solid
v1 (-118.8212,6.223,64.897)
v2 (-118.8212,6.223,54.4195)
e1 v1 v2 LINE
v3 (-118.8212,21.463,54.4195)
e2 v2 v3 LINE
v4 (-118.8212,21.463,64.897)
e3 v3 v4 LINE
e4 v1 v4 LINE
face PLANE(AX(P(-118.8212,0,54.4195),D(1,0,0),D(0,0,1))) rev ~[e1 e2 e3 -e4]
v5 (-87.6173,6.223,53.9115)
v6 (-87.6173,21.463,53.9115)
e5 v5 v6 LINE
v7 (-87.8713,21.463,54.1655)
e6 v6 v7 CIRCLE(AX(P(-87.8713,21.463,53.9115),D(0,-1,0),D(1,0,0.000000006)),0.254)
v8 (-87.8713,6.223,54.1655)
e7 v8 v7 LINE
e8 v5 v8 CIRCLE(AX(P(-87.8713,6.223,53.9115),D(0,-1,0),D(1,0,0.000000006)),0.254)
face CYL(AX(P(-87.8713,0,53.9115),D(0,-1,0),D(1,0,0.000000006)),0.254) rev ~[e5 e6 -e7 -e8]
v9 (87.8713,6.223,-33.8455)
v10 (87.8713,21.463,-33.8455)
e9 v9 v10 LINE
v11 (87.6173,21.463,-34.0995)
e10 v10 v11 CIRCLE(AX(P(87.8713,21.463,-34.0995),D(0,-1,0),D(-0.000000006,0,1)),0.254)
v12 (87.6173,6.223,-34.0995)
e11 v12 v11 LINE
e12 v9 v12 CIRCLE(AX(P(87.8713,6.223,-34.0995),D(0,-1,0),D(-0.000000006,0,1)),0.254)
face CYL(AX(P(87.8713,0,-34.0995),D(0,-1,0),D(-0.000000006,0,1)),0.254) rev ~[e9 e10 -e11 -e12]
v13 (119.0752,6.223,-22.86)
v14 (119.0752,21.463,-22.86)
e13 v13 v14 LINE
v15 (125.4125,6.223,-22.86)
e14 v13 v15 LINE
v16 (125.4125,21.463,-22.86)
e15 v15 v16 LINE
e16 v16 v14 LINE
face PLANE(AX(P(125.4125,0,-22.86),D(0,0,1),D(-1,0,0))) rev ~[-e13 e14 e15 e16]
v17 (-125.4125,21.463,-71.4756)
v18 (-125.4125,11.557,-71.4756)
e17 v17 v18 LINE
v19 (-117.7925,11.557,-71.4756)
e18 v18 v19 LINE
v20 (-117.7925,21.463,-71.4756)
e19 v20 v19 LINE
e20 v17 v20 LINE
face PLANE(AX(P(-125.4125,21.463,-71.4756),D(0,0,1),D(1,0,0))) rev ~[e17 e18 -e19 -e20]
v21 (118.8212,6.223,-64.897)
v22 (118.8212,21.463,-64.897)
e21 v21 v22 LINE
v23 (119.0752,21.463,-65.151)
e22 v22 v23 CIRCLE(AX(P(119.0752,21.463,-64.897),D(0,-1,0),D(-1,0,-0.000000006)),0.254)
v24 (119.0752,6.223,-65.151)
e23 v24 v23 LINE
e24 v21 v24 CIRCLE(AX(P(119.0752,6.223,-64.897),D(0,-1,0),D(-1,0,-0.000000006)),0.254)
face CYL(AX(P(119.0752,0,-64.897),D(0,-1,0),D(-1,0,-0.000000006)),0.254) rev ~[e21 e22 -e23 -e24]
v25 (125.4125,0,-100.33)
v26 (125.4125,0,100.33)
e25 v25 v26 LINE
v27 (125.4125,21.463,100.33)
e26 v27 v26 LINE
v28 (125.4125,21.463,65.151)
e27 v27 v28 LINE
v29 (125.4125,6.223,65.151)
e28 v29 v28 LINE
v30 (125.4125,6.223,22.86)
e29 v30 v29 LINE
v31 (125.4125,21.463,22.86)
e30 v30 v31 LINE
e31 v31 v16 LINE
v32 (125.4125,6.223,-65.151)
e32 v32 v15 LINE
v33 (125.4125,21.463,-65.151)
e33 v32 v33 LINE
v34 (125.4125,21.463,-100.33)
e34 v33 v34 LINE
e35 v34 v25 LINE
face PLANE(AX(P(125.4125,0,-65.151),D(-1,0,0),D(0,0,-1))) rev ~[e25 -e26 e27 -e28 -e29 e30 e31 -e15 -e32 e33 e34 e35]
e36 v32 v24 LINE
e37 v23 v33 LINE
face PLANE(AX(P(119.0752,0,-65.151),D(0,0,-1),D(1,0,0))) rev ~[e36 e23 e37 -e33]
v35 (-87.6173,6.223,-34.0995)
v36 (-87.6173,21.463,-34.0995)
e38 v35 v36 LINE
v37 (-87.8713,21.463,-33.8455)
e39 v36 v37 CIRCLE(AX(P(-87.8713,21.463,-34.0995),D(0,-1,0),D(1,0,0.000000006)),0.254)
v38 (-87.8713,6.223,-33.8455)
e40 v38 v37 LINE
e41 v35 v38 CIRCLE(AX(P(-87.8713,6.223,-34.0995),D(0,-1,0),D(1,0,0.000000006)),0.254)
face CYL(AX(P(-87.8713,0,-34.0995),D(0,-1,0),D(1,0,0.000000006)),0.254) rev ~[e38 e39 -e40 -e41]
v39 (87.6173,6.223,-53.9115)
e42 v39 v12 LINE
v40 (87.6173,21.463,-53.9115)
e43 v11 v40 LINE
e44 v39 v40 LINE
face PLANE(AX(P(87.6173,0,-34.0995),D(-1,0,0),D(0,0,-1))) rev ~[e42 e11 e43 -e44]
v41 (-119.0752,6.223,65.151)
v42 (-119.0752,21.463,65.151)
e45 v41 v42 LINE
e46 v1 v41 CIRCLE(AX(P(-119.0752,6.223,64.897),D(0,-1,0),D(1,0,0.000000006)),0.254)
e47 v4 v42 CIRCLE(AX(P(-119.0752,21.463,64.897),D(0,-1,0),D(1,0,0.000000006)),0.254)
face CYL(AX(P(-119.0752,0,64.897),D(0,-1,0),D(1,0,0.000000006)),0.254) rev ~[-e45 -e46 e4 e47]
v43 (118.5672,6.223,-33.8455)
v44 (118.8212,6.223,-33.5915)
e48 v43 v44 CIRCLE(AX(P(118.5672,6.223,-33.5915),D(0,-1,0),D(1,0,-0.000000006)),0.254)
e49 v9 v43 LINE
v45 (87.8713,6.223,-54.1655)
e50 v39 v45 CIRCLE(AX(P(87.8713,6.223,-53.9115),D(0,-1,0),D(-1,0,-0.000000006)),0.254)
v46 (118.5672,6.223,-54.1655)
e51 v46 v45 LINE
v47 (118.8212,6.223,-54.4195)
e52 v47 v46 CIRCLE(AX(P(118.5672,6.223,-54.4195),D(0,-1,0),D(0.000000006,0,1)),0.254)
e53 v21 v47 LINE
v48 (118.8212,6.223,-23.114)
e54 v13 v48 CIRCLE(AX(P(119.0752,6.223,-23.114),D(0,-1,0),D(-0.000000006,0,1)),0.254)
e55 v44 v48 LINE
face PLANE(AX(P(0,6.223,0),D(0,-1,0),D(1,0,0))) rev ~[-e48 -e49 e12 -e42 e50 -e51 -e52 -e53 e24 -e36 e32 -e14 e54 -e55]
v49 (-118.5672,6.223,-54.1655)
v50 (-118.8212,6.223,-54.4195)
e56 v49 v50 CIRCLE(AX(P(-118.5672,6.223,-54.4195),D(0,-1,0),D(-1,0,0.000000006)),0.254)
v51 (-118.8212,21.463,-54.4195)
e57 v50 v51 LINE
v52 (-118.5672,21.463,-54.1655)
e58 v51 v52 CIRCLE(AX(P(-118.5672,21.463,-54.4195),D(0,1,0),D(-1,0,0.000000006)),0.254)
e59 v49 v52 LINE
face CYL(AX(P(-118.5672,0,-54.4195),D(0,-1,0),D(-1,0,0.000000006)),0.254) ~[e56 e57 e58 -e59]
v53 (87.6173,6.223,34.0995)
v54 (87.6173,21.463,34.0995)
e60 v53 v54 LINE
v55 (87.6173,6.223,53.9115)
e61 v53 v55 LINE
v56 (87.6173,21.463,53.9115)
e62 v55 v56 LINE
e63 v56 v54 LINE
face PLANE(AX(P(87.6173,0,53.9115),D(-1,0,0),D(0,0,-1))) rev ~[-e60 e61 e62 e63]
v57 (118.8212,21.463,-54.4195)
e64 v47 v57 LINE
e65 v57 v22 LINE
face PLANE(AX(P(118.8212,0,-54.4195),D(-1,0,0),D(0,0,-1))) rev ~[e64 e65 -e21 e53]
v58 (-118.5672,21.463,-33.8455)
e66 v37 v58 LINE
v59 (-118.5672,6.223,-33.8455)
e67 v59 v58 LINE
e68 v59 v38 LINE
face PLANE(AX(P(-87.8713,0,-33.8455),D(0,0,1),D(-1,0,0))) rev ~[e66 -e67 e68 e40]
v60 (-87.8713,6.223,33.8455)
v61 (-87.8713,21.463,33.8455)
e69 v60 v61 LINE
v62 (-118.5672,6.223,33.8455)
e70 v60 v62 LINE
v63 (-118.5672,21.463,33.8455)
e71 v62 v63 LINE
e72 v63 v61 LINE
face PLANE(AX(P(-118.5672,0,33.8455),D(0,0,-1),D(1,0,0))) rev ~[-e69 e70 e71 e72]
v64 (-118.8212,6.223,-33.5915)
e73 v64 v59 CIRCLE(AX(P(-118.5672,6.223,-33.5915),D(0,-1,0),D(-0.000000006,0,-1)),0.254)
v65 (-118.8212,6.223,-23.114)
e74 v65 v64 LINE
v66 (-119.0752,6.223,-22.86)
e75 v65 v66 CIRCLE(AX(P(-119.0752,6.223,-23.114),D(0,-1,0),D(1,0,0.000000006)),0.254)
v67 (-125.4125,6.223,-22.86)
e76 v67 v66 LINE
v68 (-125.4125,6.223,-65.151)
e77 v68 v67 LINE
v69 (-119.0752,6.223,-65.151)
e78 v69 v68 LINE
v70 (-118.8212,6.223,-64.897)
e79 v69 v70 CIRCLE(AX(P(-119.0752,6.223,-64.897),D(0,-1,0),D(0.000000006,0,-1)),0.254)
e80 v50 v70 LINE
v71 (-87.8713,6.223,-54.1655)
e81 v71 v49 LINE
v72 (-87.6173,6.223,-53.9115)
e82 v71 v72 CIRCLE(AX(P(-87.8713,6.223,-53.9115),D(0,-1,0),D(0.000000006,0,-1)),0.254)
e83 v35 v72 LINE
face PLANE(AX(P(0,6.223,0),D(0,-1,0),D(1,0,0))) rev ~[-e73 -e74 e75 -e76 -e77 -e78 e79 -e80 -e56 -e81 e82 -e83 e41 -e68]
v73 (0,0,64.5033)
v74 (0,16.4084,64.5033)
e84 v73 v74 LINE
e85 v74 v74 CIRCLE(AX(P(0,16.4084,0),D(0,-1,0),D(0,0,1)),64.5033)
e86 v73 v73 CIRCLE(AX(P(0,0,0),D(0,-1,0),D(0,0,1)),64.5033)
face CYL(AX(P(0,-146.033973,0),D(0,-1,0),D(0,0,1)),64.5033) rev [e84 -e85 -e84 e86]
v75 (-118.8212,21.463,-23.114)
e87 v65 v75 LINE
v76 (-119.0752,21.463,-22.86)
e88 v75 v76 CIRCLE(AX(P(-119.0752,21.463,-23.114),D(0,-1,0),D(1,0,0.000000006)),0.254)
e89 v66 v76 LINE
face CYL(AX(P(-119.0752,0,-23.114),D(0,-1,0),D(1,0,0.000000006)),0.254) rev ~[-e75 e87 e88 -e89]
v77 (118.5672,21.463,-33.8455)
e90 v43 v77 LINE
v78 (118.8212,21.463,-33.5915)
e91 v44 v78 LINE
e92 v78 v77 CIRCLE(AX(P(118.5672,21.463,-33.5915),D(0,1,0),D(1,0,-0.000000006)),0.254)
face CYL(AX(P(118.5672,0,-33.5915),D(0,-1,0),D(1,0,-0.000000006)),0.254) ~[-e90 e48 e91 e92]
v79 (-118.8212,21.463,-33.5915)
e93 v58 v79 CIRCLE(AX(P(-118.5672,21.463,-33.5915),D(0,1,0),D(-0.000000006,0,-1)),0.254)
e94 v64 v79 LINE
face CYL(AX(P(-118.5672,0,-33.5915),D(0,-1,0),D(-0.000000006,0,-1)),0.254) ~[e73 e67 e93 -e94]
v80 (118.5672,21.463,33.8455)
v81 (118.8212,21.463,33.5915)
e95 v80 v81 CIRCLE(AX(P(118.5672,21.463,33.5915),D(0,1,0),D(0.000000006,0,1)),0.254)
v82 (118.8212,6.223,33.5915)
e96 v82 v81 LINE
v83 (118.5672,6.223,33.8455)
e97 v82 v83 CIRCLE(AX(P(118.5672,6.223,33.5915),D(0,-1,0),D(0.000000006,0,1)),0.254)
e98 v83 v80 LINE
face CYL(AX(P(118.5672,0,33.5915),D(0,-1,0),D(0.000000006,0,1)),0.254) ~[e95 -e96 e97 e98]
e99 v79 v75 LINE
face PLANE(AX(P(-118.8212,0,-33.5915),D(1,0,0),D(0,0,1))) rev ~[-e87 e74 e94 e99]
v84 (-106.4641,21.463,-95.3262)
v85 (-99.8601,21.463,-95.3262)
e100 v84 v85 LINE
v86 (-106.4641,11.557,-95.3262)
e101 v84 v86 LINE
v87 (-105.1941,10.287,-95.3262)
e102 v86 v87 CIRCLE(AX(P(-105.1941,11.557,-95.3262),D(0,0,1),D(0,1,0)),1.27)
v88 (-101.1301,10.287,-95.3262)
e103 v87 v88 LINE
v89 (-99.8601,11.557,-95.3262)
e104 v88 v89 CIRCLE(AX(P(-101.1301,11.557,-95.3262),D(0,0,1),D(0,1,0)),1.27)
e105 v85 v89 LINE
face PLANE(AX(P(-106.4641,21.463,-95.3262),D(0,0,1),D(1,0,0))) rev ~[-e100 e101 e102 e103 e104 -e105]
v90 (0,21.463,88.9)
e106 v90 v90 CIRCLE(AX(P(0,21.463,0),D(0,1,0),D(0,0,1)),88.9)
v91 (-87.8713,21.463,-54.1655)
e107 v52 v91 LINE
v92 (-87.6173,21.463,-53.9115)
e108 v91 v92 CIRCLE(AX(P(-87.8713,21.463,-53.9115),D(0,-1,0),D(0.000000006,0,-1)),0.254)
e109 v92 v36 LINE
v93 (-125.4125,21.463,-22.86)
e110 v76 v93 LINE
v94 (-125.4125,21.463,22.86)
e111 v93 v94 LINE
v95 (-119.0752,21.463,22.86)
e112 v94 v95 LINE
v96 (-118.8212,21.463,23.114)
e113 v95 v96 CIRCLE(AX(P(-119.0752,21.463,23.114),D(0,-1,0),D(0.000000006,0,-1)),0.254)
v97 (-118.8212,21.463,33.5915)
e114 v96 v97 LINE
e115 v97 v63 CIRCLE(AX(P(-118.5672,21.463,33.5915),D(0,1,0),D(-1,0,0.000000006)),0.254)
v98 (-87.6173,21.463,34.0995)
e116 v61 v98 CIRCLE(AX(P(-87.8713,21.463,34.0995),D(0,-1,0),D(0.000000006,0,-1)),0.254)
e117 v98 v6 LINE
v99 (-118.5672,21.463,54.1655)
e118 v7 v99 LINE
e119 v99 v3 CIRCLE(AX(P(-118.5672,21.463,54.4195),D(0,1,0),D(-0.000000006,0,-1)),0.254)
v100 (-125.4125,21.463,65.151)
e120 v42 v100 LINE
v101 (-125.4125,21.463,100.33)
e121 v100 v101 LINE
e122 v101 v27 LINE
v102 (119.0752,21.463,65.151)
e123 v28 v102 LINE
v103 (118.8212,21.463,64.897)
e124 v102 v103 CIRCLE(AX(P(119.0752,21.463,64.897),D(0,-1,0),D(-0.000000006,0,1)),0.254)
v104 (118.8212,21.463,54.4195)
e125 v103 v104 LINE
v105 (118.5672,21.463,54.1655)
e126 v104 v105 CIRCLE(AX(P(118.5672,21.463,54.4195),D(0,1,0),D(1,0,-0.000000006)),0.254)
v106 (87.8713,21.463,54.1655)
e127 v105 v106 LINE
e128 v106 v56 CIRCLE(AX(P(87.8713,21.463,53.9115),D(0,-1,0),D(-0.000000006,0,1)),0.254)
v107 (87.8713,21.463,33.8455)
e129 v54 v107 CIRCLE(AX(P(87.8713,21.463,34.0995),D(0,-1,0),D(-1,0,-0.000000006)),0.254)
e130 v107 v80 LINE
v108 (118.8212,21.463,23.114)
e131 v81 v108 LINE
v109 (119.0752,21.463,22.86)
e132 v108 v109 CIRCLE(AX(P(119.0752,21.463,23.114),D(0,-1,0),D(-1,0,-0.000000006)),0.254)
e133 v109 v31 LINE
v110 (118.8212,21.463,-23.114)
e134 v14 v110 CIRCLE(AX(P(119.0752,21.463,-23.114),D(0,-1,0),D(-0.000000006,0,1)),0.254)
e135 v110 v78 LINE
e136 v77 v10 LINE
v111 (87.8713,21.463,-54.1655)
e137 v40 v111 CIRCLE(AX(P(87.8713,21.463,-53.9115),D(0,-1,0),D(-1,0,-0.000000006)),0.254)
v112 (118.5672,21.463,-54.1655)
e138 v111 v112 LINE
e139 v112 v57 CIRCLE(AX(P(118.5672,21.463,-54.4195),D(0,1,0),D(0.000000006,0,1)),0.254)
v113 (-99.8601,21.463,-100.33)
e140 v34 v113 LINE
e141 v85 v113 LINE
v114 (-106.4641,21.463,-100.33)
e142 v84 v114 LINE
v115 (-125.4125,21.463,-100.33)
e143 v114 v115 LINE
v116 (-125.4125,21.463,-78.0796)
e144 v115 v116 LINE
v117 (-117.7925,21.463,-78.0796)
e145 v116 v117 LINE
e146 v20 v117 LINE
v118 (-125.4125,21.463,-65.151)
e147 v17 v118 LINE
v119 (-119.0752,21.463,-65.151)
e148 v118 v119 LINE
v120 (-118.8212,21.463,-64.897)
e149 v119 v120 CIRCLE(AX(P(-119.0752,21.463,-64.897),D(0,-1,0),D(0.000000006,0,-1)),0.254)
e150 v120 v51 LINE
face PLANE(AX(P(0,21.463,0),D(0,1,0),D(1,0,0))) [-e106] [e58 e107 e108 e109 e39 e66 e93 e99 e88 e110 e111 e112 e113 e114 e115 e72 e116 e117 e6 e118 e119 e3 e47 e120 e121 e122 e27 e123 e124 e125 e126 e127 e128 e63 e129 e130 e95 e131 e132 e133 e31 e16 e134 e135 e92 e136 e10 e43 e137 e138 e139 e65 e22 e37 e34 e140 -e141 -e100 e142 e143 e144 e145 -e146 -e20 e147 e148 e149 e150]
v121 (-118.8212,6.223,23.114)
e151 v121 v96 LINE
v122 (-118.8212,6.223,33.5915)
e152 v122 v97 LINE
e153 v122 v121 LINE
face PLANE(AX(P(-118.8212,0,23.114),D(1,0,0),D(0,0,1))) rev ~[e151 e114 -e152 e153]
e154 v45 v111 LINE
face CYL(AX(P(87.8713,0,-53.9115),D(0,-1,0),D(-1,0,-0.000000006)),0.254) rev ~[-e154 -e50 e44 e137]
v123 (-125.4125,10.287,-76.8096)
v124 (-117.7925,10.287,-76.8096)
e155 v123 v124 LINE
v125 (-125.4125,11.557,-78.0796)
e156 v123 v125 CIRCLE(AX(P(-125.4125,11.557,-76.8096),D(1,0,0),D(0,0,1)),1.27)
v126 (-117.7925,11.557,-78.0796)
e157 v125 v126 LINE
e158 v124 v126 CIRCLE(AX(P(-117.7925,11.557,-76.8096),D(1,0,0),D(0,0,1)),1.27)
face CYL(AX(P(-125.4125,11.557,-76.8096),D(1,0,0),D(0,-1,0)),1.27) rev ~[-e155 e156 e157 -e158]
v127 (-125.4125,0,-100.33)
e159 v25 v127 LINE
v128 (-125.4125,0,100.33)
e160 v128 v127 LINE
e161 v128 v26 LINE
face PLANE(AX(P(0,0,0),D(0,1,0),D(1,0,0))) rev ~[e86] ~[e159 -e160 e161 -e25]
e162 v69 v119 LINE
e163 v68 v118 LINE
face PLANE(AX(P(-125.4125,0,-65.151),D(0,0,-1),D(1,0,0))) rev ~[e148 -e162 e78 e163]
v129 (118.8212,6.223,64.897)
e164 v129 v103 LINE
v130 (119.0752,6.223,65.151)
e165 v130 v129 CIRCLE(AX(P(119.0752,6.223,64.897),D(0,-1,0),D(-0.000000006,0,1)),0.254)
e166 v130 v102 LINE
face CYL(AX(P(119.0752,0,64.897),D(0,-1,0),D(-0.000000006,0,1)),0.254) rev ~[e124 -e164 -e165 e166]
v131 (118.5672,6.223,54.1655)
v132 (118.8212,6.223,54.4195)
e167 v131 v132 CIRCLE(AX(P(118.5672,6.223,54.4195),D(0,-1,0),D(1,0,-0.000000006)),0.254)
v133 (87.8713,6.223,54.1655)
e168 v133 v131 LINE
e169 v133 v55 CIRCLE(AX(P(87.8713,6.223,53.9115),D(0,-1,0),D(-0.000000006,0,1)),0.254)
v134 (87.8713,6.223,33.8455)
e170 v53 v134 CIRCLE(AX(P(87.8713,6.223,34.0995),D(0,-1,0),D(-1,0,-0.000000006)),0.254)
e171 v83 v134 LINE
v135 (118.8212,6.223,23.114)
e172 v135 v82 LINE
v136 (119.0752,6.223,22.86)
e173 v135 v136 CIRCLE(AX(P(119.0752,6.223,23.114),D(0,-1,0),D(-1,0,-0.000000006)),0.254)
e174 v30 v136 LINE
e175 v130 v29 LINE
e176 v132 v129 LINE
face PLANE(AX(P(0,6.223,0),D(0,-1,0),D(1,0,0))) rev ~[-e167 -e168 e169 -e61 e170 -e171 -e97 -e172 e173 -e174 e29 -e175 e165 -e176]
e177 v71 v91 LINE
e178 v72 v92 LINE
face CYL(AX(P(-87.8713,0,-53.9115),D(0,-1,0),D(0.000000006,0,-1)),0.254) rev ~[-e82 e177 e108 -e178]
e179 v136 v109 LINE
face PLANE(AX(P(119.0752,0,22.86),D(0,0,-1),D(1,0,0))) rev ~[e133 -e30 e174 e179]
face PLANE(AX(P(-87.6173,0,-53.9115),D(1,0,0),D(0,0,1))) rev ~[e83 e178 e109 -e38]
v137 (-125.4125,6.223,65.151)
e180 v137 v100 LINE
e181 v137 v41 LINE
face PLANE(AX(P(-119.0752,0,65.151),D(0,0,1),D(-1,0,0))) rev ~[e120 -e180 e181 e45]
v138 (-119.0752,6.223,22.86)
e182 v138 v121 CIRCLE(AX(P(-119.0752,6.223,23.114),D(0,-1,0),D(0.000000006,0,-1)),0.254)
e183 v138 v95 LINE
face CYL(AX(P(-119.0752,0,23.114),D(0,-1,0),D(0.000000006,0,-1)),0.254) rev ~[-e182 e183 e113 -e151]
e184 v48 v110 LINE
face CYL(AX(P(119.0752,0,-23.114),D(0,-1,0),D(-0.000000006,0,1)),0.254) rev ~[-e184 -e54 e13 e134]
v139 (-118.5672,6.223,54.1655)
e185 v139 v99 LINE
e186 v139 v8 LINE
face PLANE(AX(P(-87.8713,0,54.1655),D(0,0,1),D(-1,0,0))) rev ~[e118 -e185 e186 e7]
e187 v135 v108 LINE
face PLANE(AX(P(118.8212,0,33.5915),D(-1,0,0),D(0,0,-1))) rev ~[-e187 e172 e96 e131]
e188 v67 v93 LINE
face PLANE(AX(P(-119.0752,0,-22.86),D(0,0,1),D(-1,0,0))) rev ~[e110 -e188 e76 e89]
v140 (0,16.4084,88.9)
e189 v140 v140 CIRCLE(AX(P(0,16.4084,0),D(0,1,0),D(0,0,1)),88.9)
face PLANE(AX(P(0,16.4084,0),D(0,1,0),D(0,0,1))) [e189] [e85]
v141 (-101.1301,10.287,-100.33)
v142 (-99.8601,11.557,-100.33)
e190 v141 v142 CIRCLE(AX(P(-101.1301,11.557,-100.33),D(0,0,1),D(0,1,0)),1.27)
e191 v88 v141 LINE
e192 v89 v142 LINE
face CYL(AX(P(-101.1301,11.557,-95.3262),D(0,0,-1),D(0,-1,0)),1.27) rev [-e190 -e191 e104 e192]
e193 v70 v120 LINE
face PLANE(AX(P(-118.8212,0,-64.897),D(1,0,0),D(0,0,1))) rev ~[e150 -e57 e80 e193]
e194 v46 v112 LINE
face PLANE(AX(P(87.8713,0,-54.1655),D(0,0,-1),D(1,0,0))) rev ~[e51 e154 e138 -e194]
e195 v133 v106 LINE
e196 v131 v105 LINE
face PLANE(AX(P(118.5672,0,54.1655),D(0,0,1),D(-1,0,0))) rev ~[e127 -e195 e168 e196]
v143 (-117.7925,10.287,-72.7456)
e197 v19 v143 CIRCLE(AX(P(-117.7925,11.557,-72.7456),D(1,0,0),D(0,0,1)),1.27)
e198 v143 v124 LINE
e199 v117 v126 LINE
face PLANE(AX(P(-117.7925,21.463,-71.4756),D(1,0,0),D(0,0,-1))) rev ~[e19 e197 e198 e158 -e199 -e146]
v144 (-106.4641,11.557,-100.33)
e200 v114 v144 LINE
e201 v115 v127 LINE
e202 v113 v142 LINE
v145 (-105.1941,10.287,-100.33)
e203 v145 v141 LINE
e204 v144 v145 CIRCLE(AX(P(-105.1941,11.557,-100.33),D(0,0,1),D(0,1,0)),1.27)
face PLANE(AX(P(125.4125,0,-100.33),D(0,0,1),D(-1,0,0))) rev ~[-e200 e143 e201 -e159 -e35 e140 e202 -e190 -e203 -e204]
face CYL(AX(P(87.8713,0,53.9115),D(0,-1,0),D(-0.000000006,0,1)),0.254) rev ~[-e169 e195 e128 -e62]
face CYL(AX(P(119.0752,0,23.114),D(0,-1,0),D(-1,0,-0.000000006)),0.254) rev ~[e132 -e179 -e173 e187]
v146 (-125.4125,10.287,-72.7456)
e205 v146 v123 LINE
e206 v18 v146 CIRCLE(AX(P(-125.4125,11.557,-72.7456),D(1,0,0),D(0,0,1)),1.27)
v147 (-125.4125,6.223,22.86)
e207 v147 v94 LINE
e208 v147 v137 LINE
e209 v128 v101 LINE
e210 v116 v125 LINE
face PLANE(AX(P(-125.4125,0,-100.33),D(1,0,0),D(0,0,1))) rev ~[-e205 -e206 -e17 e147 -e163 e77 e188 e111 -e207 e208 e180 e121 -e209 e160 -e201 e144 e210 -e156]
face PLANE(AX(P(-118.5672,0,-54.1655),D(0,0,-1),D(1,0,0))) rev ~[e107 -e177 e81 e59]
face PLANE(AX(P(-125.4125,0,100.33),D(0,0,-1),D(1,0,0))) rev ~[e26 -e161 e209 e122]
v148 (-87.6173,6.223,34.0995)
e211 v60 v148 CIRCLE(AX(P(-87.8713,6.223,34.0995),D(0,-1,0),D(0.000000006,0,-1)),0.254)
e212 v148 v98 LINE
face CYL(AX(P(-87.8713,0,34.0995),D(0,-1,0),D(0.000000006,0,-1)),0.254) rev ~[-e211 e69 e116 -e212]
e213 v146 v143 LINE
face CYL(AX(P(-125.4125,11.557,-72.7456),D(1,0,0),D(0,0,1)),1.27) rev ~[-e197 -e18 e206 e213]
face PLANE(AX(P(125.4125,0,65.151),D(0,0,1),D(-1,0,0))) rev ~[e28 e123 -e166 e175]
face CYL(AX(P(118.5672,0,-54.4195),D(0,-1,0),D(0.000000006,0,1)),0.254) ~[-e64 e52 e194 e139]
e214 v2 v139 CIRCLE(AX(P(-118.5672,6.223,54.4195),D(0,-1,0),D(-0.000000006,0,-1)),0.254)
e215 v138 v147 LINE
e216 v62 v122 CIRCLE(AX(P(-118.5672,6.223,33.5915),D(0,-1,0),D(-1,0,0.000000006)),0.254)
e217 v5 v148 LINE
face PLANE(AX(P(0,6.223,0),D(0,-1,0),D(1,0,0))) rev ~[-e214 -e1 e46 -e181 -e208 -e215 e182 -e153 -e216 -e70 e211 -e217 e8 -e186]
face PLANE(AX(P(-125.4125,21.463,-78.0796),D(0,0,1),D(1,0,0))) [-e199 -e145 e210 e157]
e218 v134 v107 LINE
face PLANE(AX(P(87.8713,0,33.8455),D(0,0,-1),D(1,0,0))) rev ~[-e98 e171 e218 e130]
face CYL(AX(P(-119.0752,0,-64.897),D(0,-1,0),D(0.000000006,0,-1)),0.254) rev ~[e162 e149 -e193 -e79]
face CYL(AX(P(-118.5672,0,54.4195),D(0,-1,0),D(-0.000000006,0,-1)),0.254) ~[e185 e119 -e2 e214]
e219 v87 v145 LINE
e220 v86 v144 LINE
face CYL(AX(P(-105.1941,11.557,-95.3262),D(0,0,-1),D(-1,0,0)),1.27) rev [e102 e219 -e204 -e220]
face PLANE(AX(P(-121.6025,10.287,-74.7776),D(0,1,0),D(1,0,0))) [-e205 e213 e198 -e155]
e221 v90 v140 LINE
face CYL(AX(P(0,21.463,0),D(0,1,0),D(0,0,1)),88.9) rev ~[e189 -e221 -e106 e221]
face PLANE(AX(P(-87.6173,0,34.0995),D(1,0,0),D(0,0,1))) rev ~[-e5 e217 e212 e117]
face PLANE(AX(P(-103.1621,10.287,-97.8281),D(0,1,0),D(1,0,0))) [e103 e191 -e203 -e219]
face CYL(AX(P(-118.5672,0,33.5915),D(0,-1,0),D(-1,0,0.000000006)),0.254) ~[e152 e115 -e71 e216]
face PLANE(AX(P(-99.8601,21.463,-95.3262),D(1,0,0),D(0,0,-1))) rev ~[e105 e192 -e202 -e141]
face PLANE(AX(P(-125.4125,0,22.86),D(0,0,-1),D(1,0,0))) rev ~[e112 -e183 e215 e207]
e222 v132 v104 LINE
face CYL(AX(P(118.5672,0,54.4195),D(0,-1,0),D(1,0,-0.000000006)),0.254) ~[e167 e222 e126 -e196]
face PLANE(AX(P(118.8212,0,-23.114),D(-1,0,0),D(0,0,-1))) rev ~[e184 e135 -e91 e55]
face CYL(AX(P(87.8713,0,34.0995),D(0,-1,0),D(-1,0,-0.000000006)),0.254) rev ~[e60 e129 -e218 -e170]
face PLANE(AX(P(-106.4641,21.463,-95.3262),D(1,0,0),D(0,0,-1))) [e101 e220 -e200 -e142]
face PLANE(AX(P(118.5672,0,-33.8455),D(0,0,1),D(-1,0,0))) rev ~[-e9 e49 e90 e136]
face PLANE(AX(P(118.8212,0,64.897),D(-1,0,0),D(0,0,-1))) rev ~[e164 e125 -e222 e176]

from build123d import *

# Parameters (mm, degrees)
BOSS_EXTRUDE1_DEPTH     = 21.463
SKETCH3_R               = 88.9
CUT_EXTRUDE1_DEPTH      = 5.0546
CUT_EXTRUDE2_DEPTH      = 162.442372526
CUT_EXTRUDE2_DEPTH_BACK = 162.442372526
SKETCH4_R               = 64.5033
SKETCH5_W               = 250.825
SKETCH5_H               = 200.66
BOSS_EXTRUDE2_DEPTH     = 6.223
CUT_EXTRUDE3_DEPTH      = 162.442372526
CUT_EXTRUDE3_DEPTH_BACK = 162.442372526
SKETCH4_2_R             = 64.5033
SKETCH6_W               = 6.604
SKETCH6_H               = 5.0038
SKETCH6_W_2             = 7.62
SKETCH6_H_2             = 6.604
CUT_EXTRUDE4_DEPTH      = 11.176
FILLET4_R               = 1.27


with BuildPart() as part:
    # Sketch2 → Boss-Extrude1 (new body)
    with BuildSketch(Plane(origin=(0, 0, 0), x_dir=(1, 0, 0), z_dir=(0, 1, 0))):
        with BuildLine():
            Line((-125.4125, 65.151), (-119.0752, 65.151))
            ThreePointArc((-119.0752, 65.151), (-118.895594878, 65.076605122), (-118.8212, 64.897))
            Line((-118.8212, 64.897), (-118.8212, 54.4195))
            ThreePointArc((-118.8212, 54.4195), (-118.746805122, 54.239894878), (-118.5672, 54.1655))
            Line((-118.5672, 54.1655), (-87.8713, 54.1655))
            ThreePointArc((-87.8713, 54.1655), (-87.691694878, 54.091105122), (-87.6173, 53.9115))
            Line((-87.6173, 53.9115), (-87.6173, 34.0995))
            ThreePointArc((-87.6173, 34.0995), (-87.691694878, 33.919894878), (-87.8713, 33.8455))
            Line((-87.8713, 33.8455), (-118.5672, 33.8455))
            ThreePointArc((-118.5672, 33.8455), (-118.746805122, 33.771105122), (-118.8212, 33.5915))
            Line((-118.8212, 33.5915), (-118.8212, 23.114))
            ThreePointArc((-118.8212, 23.114), (-118.895594878, 22.934394878), (-119.0752, 22.86))
            Line((-119.0752, 22.86), (-125.4125, 22.86))
            Line((-125.4125, 22.86), (-125.4125, -22.86))
            Line((-125.4125, -22.86), (-119.0752, -22.86))
            ThreePointArc((-119.0752, -22.86), (-118.895594878, -22.934394878), (-118.8212, -23.114))
            Line((-118.8212, -23.114), (-118.8212, -33.5915))
            ThreePointArc((-118.8212, -33.5915), (-118.746805122, -33.771105122), (-118.5672, -33.8455))
            Line((-118.5672, -33.8455), (-87.8713, -33.8455))
            ThreePointArc((-87.8713, -33.8455), (-87.691694878, -33.919894878), (-87.6173, -34.0995))
            Line((-87.6173, -34.0995), (-87.6173, -53.9115))
            ThreePointArc((-87.6173, -53.9115), (-87.691694878, -54.091105122), (-87.8713, -54.1655))
            Line((-87.8713, -54.1655), (-118.5672, -54.1655))
            ThreePointArc((-118.5672, -54.1655), (-118.746805122, -54.239894878), (-118.8212, -54.4195))
            Line((-118.8212, -54.4195), (-118.8212, -64.897))
            ThreePointArc((-118.8212, -64.897), (-118.895594878, -65.076605122), (-119.0752, -65.151))
            Line((-119.0752, -65.151), (-125.4125, -65.151))
            Line((-125.4125, -65.151), (-125.4125, -100.33))
            Line((-125.4125, -100.33), (125.4125, -100.33))
            Line((125.4125, -100.33), (125.4125, -65.151))
            Line((125.4125, -65.151), (119.0752, -65.151))
            ThreePointArc((119.0752, -65.151), (118.895594878, -65.076605122), (118.8212, -64.897))
            Line((118.8212, -64.897), (118.8212, -54.4195))
            ThreePointArc((118.8212, -54.4195), (118.746805122, -54.239894878), (118.5672, -54.1655))
            Line((118.5672, -54.1655), (87.8713, -54.1655))
            ThreePointArc((87.8713, -54.1655), (87.691694878, -54.091105122), (87.6173, -53.9115))
            Line((87.6173, -53.9115), (87.6173, -34.0995))
            ThreePointArc((87.6173, -34.0995), (87.691694878, -33.919894878), (87.8713, -33.8455))
            Line((87.8713, -33.8455), (118.5672, -33.8455))
            ThreePointArc((118.5672, -33.8455), (118.746805122, -33.771105122), (118.8212, -33.5915))
            Line((118.8212, -33.5915), (118.8212, -23.114))
            ThreePointArc((118.8212, -23.114), (118.895594878, -22.934394878), (119.0752, -22.86))
            Line((119.0752, -22.86), (125.4125, -22.86))
            Line((125.4125, -22.86), (125.4125, 22.86))
            Line((125.4125, 22.86), (119.0752, 22.86))
            ThreePointArc((119.0752, 22.86), (118.895594878, 22.934394878), (118.8212, 23.114))
            Line((118.8212, 23.114), (118.8212, 33.5915))
            ThreePointArc((118.8212, 33.5915), (118.746805122, 33.771105122), (118.5672, 33.8455))
            Line((118.5672, 33.8455), (87.8713, 33.8455))
            ThreePointArc((87.8713, 33.8455), (87.691694878, 33.919894878), (87.6173, 34.0995))
            Line((87.6173, 34.0995), (87.6173, 53.9115))
            ThreePointArc((87.6173, 53.9115), (87.691694878, 54.091105122), (87.8713, 54.1655))
            Line((87.8713, 54.1655), (118.5672, 54.1655))
            ThreePointArc((118.5672, 54.1655), (118.746805122, 54.239894878), (118.8212, 54.4195))
            Line((118.8212, 54.4195), (118.8212, 64.897))
            ThreePointArc((118.8212, 64.897), (118.895594878, 65.076605122), (119.0752, 65.151))
            Line((119.0752, 65.151), (125.4125, 65.151))
            Line((125.4125, 65.151), (125.4125, 100.33))
            Line((125.4125, 100.33), (-125.4125, 100.33))
            Line((-125.4125, 100.33), (-125.4125, 65.151))
        make_face()
    extrude(amount=BOSS_EXTRUDE1_DEPTH)

    # Sketch3 → Cut-Extrude1 (cut)
    with BuildSketch(Plane(origin=(0, 21.463, 0), x_dir=(1, 0, 0), z_dir=(0, 1, 0))):
        Circle(SKETCH3_R)
    extrude(amount=-CUT_EXTRUDE1_DEPTH, mode=Mode.SUBTRACT)

    # Sketch4 → Cut-Extrude2 (cut, two sides: drawn at the far end of the back side and taken through both)
    with BuildSketch(Plane(origin=(0, 16.4084, 0), x_dir=(1, 0, 0), z_dir=(0, 1, 0)).offset(-CUT_EXTRUDE2_DEPTH_BACK)):
        Circle(SKETCH4_R)
    extrude(amount=CUT_EXTRUDE2_DEPTH + CUT_EXTRUDE2_DEPTH_BACK, mode=Mode.SUBTRACT)

    # Sketch5 → Boss-Extrude2 (add)
    with BuildSketch(Plane.XZ):
        Rectangle(SKETCH5_W, SKETCH5_H)
    extrude(amount=-BOSS_EXTRUDE2_DEPTH)

    # Sketch4<2> → Cut-Extrude3 (cut, two sides: drawn at the far end of the back side and taken through both)
    with BuildSketch(Plane(origin=(0, 16.4084, 0), x_dir=(1, 0, 0), z_dir=(0, 1, 0)).offset(-CUT_EXTRUDE3_DEPTH_BACK)):
        Circle(SKETCH4_2_R)
    extrude(amount=CUT_EXTRUDE3_DEPTH + CUT_EXTRUDE3_DEPTH_BACK, mode=Mode.SUBTRACT)

    # Sketch6 → Cut-Extrude4 (cut)
    with BuildSketch(Plane(origin=(0, 21.463, 0), x_dir=(1, 0, 0), z_dir=(0, 1, 0))):
        with Locations((-103.1621, 97.8281)):
            Rectangle(SKETCH6_W, SKETCH6_H)
        with Locations((-121.6025, 74.7776)):
            Rectangle(SKETCH6_W_2, SKETCH6_H_2)
    extrude(amount=-CUT_EXTRUDE4_DEPTH, mode=Mode.SUBTRACT)

    # Fillet4
    fillet4_edges = [part.edges().sort_by_distance(p)[0] for p in [
        (-121.6025, 10.287, -78.0796),
        (-121.6025, 10.287, -71.4756),
        (-99.8601, 10.287, -97.8281),
        (-106.4641, 10.287, -97.8281),
    ]]
    fillet(fillet4_edges, radius=FILLET4_R)


solid = part.part
